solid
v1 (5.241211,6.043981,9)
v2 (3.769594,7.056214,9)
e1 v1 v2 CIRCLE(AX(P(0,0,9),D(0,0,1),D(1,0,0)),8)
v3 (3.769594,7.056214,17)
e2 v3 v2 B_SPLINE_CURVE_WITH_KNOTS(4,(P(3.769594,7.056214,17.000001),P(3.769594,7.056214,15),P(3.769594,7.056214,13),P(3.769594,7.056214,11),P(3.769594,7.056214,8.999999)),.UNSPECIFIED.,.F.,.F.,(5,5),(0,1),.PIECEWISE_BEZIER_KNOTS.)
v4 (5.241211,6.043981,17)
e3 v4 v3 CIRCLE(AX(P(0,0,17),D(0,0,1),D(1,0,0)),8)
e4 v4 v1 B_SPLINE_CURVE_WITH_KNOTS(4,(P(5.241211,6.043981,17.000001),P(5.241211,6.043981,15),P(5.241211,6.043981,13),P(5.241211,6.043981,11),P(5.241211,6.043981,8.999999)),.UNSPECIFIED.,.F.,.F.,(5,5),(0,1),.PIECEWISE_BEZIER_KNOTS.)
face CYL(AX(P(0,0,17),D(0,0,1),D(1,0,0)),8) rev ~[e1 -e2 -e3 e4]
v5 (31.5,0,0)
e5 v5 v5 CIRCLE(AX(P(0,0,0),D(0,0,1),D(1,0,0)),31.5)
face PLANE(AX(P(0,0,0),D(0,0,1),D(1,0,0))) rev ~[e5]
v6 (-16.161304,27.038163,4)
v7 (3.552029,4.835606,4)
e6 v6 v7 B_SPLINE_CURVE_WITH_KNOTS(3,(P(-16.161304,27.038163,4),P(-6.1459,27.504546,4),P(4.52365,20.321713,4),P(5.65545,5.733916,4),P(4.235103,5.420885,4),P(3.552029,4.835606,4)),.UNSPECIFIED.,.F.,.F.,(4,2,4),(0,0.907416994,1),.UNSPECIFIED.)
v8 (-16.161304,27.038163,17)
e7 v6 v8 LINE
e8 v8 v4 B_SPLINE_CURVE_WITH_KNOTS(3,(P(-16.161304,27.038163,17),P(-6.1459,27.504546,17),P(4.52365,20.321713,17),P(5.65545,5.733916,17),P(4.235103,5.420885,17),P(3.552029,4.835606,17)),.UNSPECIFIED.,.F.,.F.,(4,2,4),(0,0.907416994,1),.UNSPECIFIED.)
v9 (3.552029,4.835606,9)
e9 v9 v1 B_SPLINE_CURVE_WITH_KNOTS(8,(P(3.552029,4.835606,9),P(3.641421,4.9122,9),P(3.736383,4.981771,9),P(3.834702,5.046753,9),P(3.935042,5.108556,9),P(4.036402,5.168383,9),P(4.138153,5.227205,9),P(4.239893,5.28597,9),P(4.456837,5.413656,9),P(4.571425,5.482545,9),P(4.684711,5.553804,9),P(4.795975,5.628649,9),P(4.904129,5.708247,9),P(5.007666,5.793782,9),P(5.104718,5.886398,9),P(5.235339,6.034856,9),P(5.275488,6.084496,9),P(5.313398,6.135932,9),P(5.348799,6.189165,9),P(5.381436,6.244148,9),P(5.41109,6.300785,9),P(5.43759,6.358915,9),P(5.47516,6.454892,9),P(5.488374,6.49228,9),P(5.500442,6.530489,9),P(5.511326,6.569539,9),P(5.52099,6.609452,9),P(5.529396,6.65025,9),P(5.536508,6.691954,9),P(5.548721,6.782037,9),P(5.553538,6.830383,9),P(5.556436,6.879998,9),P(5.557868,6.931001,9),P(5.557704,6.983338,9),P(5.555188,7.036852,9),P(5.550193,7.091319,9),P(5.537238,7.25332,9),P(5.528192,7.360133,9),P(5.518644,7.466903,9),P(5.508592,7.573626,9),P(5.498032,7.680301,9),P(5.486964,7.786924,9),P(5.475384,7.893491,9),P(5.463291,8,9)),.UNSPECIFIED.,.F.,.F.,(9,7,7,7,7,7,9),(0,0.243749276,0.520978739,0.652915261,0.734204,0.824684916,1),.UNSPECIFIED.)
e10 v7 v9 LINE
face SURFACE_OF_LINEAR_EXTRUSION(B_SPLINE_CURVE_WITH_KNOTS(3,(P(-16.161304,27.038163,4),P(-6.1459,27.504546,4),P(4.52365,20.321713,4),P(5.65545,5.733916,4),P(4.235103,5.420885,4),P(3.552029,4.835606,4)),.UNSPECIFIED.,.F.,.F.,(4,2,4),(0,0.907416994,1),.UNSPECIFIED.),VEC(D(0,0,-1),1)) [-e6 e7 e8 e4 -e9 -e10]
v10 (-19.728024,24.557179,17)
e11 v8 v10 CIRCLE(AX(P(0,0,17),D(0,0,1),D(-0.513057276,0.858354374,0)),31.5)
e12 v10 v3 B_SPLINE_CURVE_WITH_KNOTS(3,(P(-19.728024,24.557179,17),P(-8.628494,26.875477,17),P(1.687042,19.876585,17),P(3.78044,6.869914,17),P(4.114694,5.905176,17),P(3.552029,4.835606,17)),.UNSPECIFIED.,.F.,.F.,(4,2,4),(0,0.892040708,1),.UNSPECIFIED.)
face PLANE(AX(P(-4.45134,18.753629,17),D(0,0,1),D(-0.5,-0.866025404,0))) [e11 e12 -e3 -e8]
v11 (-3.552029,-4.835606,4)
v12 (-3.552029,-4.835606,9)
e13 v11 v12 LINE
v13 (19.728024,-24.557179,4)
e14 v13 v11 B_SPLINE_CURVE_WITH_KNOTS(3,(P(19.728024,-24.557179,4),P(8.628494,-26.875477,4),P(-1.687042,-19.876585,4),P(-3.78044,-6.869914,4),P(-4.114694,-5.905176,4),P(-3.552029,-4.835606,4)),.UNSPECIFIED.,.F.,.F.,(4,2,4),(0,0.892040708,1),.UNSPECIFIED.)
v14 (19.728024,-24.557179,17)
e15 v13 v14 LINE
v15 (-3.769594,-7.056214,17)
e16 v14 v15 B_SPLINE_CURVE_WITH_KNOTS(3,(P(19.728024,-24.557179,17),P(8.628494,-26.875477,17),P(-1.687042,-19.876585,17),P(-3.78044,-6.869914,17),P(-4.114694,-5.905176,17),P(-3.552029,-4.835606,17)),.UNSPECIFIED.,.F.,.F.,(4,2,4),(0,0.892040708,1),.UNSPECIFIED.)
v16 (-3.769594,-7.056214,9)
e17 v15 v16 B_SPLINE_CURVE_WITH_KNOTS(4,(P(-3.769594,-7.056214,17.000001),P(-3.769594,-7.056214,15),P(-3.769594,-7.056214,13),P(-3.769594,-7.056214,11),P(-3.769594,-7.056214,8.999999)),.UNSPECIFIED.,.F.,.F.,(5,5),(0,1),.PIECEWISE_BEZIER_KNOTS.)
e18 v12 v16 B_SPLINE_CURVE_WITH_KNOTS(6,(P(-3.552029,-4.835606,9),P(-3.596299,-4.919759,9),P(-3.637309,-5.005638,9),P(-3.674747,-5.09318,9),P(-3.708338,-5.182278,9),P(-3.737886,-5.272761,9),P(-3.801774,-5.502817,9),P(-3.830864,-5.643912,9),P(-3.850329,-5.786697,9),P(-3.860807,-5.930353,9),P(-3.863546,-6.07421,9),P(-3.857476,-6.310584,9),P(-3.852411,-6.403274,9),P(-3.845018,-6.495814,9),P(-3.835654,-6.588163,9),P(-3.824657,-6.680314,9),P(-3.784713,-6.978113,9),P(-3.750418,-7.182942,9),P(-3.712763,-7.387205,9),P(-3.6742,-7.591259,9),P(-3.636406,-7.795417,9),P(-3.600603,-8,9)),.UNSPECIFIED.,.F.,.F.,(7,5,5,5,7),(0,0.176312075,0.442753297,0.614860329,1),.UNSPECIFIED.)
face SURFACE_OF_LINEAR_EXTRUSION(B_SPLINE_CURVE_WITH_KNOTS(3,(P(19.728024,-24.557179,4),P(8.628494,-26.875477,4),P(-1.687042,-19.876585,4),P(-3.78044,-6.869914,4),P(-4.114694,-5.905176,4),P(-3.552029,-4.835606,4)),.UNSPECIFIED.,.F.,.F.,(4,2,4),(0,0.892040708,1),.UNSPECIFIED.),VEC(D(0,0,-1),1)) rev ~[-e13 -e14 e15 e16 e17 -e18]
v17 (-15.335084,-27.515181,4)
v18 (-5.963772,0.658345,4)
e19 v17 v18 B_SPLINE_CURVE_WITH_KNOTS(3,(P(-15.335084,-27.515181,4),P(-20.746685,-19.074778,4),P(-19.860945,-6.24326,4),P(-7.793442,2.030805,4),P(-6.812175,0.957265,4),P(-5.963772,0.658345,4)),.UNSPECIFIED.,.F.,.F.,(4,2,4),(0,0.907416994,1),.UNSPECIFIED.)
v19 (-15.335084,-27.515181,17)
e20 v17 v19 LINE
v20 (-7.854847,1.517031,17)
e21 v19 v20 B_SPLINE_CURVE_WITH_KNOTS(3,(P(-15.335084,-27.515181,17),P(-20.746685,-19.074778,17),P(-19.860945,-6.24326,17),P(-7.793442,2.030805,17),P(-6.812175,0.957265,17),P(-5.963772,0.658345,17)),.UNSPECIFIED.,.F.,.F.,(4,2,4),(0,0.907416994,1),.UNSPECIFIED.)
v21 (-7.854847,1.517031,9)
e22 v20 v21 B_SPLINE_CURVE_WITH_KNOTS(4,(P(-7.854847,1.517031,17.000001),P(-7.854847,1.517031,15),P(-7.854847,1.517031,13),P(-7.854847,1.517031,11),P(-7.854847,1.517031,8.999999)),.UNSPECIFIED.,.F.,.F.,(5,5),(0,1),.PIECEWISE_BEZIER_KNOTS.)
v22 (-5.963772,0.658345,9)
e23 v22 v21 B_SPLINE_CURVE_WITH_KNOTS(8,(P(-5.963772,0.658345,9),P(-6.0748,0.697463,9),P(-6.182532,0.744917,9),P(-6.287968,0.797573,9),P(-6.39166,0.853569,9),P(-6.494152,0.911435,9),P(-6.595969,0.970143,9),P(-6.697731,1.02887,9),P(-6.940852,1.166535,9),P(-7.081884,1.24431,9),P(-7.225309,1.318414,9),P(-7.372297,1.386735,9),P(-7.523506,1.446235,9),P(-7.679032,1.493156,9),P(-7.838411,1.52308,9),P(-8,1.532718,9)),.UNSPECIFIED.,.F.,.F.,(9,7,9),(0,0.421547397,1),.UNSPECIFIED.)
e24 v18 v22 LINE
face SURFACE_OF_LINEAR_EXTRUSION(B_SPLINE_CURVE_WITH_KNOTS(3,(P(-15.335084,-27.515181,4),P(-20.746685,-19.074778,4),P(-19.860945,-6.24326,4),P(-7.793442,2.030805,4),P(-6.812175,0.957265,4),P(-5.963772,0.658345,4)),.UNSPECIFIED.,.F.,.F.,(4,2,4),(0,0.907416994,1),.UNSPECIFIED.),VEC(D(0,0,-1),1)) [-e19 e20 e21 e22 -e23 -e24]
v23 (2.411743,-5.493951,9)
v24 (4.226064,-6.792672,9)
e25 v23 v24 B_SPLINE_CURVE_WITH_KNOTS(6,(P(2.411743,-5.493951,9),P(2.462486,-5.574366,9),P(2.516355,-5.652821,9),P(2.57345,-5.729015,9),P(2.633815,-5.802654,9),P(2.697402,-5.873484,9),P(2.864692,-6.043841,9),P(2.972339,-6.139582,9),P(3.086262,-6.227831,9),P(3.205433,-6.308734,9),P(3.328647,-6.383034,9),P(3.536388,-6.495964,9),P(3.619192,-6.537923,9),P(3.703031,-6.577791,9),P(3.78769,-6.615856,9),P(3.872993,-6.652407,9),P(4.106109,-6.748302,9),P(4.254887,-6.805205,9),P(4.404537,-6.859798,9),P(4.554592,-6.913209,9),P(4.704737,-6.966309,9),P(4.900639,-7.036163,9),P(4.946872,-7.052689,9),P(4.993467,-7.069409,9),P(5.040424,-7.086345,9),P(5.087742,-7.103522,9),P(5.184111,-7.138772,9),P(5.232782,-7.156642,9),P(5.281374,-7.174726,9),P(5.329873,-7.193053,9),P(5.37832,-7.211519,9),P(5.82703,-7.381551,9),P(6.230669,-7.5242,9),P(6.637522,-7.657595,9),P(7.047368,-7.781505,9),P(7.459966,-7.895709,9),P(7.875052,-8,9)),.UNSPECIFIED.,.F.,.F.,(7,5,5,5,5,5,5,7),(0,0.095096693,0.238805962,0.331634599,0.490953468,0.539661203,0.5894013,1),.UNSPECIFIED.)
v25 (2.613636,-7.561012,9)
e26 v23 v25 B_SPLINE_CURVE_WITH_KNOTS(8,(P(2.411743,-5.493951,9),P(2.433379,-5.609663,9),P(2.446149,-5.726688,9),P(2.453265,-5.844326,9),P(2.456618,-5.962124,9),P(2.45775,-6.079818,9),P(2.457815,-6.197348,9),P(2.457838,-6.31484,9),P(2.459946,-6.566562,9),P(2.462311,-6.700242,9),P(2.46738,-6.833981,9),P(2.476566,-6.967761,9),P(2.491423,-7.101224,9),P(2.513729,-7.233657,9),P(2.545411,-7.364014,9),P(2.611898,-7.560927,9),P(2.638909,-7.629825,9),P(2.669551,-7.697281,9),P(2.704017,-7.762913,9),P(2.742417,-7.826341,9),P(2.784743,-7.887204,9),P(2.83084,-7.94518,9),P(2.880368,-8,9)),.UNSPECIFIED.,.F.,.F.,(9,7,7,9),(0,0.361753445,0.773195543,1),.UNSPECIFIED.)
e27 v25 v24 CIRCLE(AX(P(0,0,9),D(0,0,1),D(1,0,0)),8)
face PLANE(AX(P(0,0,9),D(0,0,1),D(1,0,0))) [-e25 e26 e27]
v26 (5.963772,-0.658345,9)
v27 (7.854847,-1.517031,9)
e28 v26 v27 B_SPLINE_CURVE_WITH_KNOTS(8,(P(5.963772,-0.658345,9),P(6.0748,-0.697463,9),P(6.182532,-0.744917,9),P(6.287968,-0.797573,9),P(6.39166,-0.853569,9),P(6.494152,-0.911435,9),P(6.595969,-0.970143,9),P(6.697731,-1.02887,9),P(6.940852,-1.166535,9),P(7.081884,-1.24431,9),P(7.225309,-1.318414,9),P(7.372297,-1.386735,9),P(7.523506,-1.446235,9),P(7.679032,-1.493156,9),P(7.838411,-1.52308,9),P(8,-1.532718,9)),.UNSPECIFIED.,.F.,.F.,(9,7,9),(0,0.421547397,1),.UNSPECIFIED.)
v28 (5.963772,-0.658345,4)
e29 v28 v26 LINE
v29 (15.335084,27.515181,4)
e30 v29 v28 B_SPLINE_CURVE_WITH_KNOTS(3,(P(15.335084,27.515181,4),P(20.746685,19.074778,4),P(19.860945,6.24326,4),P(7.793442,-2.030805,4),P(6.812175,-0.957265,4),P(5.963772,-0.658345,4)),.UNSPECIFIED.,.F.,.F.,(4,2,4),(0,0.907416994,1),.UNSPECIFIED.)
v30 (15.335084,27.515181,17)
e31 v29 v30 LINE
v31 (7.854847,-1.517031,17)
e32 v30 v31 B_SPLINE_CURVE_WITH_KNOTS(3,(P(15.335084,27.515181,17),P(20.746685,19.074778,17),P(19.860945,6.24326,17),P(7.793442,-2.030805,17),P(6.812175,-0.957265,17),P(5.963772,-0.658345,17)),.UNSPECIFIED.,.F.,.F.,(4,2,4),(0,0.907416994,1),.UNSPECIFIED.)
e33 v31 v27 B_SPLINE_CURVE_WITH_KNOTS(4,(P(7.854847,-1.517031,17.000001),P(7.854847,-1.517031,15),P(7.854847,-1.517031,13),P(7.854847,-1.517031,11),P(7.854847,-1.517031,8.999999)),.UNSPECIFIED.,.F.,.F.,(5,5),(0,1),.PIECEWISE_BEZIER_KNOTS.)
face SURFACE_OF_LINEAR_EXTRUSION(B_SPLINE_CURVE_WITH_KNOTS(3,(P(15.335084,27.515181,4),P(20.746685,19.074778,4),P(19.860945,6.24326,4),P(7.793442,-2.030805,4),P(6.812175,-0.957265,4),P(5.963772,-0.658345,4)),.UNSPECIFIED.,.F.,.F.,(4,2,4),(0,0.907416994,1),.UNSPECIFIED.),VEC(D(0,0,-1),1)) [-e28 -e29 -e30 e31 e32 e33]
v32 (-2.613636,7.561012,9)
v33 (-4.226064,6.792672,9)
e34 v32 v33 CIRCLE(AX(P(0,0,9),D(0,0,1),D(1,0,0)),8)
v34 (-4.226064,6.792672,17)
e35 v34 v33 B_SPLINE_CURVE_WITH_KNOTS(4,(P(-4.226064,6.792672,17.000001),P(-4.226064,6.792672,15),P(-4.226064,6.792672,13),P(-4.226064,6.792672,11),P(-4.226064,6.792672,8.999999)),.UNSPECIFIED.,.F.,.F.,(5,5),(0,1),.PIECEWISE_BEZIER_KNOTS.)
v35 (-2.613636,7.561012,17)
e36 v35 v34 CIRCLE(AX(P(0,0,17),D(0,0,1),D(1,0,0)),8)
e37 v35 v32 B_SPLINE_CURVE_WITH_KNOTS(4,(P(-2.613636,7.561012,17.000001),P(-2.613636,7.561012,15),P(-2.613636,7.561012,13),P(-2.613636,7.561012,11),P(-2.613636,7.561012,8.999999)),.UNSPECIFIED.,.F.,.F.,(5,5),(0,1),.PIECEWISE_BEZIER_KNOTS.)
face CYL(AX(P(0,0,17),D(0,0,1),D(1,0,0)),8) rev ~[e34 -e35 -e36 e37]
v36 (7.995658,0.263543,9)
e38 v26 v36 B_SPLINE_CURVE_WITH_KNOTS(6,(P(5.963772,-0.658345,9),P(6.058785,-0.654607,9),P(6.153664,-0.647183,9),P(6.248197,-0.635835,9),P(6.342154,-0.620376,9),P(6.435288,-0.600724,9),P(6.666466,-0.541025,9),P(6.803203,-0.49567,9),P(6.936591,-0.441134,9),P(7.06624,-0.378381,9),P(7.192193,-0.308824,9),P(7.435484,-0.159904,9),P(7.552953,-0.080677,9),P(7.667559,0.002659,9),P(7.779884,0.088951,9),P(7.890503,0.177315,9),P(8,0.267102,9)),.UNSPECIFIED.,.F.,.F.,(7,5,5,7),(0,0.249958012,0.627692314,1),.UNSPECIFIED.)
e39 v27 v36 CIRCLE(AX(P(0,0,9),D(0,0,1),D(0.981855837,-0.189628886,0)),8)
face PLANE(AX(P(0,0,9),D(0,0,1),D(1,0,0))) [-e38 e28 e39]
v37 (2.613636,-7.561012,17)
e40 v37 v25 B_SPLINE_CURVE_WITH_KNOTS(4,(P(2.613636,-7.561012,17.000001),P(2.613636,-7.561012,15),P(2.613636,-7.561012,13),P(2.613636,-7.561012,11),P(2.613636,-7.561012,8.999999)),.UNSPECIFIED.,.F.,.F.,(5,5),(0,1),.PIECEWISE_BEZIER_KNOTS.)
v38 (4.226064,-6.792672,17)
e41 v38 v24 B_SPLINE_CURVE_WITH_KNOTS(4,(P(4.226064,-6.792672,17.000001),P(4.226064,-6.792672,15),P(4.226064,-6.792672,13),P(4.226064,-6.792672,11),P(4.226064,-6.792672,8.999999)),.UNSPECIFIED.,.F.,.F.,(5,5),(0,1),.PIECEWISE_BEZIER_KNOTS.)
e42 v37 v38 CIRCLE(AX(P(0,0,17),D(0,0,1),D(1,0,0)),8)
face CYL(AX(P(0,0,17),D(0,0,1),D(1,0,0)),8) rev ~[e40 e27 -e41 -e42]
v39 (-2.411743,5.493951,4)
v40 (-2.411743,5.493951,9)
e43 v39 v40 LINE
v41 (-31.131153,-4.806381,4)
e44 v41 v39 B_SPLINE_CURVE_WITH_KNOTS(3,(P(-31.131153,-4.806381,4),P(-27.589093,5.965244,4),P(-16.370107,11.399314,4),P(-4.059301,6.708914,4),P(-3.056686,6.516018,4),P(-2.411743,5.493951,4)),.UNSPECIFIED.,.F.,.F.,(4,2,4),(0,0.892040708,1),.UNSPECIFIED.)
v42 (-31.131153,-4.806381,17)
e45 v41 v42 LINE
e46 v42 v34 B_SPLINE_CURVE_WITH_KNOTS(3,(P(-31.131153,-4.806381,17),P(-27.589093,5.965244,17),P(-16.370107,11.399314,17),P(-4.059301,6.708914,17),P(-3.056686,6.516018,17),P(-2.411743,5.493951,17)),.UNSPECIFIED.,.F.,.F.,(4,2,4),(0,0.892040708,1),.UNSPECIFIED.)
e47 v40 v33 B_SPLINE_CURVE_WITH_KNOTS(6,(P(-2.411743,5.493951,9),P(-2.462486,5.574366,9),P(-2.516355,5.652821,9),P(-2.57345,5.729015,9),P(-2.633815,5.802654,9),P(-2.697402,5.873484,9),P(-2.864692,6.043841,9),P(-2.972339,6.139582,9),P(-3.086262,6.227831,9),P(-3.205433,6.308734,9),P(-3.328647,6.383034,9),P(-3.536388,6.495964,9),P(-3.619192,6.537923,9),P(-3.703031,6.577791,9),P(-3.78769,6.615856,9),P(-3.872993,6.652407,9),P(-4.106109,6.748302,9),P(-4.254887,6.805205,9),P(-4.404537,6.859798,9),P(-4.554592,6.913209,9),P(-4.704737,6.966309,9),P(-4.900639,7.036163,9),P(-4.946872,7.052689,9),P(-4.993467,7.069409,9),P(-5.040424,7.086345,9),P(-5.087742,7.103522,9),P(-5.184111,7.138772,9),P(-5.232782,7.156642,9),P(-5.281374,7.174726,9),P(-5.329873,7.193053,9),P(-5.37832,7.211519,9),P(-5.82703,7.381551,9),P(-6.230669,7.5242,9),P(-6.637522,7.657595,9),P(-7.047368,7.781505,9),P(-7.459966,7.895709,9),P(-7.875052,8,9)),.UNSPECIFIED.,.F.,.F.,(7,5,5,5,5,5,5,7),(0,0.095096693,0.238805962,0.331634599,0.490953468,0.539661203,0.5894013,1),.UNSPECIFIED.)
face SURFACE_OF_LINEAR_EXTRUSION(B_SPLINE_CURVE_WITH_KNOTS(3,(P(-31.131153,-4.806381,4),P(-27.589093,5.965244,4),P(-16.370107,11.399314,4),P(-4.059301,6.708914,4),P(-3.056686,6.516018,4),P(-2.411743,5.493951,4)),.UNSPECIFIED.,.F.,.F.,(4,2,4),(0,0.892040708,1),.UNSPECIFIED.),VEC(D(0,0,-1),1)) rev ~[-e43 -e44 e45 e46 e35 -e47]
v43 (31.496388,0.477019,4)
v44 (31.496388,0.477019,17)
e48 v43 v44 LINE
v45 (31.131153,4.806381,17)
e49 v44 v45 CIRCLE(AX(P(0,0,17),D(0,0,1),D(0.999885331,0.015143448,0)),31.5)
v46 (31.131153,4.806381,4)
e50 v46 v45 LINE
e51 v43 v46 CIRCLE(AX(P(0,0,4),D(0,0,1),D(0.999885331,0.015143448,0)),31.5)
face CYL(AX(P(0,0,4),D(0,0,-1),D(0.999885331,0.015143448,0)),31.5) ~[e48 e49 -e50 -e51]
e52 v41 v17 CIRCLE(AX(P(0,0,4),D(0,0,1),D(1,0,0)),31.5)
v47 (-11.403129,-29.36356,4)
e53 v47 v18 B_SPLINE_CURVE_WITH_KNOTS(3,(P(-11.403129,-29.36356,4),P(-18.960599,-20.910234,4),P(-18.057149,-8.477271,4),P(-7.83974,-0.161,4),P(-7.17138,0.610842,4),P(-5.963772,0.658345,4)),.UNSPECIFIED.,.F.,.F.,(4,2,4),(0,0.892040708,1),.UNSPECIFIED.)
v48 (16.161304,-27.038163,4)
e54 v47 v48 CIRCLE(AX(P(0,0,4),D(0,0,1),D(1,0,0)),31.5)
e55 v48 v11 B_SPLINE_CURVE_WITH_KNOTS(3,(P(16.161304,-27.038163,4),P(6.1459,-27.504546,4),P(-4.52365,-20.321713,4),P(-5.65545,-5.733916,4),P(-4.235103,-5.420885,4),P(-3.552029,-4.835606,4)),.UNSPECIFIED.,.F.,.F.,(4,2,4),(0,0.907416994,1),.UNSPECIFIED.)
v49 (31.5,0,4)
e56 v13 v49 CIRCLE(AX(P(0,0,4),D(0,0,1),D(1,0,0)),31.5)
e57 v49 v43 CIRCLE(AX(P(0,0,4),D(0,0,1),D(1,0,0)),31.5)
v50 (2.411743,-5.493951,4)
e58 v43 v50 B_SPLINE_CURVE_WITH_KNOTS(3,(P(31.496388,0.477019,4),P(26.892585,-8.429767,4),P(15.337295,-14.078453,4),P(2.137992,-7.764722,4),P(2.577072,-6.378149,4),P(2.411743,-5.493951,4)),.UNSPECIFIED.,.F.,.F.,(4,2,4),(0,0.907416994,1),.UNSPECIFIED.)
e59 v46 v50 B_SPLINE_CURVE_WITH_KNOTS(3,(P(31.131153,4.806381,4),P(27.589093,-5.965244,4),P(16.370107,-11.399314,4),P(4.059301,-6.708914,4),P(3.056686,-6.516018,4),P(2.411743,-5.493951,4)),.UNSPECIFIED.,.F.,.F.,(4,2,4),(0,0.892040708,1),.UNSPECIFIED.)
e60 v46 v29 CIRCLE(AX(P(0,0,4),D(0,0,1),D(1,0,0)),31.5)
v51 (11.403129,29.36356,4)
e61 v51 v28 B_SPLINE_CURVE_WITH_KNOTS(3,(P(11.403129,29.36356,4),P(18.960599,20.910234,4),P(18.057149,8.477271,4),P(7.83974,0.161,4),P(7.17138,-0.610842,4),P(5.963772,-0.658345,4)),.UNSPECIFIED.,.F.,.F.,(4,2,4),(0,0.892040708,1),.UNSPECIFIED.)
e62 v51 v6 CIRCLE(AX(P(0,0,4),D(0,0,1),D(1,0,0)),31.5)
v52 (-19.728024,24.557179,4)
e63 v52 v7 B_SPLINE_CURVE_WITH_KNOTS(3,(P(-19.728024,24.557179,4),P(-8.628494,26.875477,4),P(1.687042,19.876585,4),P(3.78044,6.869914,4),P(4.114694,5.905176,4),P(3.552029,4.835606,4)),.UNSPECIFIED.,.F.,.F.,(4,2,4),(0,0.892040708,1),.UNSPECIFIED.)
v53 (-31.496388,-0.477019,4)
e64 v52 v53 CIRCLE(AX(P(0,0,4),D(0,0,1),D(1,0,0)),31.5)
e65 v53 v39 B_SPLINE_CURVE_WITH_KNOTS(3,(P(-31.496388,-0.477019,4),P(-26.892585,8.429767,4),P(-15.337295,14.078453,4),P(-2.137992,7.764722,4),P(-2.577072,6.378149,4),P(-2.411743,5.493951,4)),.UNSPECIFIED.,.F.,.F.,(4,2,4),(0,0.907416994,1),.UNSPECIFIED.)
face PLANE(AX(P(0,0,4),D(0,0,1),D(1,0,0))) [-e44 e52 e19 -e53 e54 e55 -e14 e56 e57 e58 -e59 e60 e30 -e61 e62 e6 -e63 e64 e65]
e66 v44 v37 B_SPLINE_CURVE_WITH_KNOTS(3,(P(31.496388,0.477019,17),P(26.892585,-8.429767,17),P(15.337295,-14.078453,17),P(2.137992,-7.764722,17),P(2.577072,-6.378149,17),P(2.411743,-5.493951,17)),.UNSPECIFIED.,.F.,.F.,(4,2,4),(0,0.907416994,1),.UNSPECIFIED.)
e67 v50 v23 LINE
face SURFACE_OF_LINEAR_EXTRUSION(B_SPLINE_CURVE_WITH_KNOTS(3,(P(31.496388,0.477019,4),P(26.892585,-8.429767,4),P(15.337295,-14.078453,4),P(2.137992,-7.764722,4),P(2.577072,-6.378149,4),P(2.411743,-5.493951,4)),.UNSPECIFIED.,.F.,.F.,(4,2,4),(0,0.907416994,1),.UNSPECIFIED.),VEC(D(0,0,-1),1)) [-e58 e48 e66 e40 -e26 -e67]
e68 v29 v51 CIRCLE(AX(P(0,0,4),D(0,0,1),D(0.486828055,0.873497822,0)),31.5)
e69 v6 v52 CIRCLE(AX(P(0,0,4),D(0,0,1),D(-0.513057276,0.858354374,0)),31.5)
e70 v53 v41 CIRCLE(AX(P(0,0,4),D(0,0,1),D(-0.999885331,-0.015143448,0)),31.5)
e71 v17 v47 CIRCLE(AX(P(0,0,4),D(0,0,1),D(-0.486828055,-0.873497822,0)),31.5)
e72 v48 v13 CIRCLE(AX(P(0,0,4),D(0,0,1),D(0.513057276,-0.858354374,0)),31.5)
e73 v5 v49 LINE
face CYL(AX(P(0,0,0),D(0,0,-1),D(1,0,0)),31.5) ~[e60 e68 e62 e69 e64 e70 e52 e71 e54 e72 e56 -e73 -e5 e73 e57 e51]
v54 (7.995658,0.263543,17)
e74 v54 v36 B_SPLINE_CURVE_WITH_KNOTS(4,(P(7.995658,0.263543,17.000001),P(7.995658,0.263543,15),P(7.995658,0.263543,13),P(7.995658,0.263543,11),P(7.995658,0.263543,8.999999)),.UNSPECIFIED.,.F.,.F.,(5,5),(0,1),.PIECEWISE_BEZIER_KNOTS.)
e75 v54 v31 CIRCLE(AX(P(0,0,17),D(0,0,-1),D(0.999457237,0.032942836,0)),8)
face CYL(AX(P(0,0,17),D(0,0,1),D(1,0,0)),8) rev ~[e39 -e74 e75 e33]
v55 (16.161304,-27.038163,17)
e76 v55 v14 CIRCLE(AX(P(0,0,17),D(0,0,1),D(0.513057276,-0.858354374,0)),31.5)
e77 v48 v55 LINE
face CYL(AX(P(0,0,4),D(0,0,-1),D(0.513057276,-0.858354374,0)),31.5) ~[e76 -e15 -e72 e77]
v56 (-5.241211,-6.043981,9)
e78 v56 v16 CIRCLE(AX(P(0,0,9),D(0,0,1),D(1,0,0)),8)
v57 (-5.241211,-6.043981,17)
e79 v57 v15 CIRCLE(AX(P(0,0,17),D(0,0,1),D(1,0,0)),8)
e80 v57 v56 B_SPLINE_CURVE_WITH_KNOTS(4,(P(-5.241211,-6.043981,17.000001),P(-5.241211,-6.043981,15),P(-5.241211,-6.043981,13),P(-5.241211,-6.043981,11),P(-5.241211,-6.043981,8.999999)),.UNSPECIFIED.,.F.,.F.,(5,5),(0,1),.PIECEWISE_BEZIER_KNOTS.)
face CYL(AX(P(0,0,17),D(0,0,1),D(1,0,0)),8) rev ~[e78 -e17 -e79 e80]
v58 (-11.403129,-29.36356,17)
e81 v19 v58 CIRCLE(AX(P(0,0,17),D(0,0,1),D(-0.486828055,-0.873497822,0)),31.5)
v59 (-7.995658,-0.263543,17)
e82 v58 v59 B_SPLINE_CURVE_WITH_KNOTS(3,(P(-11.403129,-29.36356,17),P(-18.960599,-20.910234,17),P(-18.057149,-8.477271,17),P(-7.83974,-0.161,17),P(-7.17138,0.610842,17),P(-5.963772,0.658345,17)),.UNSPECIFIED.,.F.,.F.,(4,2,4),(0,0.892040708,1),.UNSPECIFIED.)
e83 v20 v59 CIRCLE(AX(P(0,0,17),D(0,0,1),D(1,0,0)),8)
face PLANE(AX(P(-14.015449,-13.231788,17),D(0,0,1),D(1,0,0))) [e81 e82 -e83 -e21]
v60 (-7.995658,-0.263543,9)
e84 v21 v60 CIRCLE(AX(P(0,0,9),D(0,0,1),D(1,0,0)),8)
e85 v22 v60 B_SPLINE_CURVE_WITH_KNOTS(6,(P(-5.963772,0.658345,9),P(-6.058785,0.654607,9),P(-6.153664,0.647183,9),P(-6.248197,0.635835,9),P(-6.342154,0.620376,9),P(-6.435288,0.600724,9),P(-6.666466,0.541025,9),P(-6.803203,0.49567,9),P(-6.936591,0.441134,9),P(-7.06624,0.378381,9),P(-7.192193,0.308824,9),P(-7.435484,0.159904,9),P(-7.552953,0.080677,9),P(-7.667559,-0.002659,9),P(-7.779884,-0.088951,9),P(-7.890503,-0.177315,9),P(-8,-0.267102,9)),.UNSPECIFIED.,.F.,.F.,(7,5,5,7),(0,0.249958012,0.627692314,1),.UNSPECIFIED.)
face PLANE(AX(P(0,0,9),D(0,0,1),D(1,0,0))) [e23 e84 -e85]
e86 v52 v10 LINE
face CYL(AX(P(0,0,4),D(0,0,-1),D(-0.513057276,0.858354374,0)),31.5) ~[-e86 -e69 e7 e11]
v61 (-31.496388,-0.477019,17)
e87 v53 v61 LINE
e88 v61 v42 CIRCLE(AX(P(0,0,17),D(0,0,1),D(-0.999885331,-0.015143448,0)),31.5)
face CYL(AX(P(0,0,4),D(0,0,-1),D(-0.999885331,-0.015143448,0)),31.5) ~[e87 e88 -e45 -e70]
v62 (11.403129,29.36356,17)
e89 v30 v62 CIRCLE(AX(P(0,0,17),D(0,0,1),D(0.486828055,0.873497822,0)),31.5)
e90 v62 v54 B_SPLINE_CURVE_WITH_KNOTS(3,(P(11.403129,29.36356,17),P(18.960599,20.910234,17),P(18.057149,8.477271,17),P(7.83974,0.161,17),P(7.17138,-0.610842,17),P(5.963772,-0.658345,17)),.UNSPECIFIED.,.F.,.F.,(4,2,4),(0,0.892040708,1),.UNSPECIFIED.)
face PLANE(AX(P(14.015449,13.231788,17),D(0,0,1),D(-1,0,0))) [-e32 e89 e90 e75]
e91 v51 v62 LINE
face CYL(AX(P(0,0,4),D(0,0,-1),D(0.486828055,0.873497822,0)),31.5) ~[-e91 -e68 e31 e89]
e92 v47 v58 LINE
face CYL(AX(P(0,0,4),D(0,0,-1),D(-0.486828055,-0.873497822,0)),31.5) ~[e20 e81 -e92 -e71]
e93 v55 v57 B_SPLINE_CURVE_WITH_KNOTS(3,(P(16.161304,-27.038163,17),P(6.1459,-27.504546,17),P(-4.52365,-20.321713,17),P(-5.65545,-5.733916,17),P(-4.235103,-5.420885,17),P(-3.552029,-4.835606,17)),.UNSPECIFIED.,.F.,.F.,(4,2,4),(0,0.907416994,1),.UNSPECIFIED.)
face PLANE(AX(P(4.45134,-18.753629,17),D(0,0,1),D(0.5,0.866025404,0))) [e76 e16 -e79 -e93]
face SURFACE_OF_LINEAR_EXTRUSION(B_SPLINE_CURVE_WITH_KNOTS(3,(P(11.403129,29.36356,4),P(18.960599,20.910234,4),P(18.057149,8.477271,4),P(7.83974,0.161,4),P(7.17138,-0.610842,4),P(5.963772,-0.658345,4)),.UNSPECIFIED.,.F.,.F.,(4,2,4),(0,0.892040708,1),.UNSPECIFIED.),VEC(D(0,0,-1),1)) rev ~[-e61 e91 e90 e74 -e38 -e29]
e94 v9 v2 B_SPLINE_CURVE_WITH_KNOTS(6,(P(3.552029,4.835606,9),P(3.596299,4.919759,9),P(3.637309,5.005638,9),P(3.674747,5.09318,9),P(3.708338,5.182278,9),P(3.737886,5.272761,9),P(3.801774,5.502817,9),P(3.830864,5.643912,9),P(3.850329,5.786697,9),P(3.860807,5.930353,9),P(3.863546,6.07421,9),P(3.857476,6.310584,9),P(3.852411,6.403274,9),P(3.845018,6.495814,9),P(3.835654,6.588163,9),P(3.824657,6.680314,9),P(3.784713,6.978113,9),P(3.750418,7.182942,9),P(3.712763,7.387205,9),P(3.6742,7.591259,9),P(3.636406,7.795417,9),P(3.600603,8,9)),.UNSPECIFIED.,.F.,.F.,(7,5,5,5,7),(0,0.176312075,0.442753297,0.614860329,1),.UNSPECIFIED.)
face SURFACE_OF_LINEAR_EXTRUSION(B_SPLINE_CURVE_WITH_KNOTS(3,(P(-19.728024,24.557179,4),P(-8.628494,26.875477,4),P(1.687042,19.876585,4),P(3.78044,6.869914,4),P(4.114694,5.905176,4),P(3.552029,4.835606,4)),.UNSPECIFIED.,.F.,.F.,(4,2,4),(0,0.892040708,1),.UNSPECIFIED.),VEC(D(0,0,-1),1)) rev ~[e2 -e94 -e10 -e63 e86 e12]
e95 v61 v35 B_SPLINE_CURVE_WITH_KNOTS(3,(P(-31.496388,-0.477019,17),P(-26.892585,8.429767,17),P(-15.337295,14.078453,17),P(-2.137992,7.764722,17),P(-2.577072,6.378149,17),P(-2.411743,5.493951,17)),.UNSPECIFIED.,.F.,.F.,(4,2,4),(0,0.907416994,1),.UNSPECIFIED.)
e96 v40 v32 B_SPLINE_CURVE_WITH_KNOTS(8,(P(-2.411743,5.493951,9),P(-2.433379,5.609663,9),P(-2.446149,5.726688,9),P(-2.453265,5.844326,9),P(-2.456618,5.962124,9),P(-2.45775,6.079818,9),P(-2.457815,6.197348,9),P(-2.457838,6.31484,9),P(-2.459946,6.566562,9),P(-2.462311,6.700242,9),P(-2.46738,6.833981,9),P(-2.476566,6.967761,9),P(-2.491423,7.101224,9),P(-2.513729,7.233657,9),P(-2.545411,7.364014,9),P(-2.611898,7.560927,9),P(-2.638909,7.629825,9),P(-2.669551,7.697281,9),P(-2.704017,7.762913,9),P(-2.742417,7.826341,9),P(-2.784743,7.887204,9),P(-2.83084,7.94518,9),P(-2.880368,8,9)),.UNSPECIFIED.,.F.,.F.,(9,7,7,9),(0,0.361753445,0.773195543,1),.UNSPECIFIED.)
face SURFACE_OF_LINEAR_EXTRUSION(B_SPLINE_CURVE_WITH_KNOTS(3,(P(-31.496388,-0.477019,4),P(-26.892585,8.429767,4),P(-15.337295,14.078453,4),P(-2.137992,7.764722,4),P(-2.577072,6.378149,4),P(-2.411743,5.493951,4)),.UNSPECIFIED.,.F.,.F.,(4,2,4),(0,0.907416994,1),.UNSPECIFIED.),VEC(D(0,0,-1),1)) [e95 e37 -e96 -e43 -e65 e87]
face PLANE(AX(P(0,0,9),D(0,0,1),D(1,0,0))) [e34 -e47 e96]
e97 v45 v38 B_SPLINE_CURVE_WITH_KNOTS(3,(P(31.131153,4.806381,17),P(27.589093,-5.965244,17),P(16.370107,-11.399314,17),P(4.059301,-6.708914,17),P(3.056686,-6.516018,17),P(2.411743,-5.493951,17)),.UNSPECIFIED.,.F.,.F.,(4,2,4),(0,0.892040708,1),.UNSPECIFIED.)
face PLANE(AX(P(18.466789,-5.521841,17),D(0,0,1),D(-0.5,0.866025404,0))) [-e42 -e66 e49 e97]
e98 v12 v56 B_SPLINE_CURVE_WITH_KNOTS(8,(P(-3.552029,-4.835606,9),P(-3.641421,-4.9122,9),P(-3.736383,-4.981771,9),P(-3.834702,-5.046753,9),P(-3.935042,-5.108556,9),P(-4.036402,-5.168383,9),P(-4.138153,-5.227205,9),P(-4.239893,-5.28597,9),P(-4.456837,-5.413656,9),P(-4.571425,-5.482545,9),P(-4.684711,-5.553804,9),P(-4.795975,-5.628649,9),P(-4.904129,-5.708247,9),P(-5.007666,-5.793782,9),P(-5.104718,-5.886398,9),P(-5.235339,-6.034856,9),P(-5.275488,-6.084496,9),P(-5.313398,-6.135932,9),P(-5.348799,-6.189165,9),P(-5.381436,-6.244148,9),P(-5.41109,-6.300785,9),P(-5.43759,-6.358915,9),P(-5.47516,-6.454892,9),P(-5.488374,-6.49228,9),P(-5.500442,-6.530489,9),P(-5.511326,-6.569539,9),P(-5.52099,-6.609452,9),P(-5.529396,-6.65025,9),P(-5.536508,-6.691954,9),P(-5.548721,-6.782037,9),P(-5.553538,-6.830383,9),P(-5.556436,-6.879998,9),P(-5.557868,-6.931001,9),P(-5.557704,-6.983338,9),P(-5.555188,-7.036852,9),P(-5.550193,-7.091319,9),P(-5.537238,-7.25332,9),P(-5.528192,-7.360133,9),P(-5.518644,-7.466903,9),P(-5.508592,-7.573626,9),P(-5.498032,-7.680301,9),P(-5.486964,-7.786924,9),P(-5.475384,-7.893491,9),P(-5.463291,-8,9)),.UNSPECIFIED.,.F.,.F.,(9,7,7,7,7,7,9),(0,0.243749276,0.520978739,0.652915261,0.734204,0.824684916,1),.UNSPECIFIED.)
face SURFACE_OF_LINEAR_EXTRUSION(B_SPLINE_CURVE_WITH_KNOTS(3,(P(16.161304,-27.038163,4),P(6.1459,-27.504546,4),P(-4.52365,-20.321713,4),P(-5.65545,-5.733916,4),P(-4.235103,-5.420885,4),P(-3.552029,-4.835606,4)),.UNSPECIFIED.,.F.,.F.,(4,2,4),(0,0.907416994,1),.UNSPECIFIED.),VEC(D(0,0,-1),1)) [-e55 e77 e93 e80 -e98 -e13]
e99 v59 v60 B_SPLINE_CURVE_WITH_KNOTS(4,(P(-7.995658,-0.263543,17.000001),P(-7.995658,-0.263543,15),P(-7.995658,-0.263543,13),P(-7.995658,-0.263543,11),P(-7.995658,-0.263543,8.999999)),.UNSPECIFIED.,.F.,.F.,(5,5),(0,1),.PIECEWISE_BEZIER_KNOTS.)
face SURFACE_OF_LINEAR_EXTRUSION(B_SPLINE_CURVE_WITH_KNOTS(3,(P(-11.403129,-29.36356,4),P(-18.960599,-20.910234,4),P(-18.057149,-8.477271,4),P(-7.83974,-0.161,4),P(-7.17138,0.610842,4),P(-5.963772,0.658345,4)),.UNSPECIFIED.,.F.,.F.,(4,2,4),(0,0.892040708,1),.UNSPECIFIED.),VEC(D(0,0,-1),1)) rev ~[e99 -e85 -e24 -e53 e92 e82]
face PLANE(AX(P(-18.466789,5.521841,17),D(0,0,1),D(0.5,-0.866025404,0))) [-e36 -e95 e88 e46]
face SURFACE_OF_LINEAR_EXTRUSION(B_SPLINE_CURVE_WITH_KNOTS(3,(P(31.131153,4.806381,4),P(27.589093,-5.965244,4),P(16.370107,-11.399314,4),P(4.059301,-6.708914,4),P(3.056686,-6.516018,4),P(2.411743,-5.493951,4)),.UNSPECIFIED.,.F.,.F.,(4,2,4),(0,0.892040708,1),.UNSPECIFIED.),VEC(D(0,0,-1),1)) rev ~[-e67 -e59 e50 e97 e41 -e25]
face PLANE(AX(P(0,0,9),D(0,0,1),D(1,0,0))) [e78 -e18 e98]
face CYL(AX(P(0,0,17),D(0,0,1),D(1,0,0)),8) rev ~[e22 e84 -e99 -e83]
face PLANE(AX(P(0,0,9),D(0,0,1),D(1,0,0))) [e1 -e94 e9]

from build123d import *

# Parameters (mm, degrees)
SKETCH1_R          = 31.5
EXTRUDE1_DEPTH     = 4
EXTRUDE2_DEPTH     = 13
CIRPATTERN1_COUNT  = 6
SKETCH9_R          = 8
CUT_EXTRUDE1_DEPTH = 8


with BuildPart() as part:
    # Sketch1 → Extrude1 (new body)
    with BuildSketch(Plane.XY):
        Circle(SKETCH1_R)
    extrude(amount=EXTRUDE1_DEPTH)

    # Sketch8 → Extrude2 (add)
    with BuildSketch(Plane.XY.offset(4)):
        with BuildLine():
            ThreePointArc((-15.335083755, -27.515181378), (-13.401012303, -28.5072424), (-11.403128973, -29.363559894))
            add(Edge.make_bspline(
                [(-11.403128973, -29.363559894), (-18.960599099, -20.910233685), (-18.057148894, -8.477271422), (-7.839740111, -0.161000485), (-7.171379792, 0.610841586), (-5.963772485, 0.658344705)],
                knots=[0, 0, 0, 0, 0.892040708, 0.892040708, 1, 1, 1, 1], degree=3))
            add(Edge.make_bspline(
                [(-15.335083755, -27.515181378), (-20.746685268, -19.074778053), (-19.86094526, -6.243260483), (-7.793442469, 2.03080533), (-6.812175467, 0.957264639), (-5.963772485, 0.658344705)],
                knots=[0, 0, 0, 0, 0.907416994, 0.907416994, 1, 1, 1, 1], degree=3))
        make_face()
    extrude2 = extrude(amount=EXTRUDE2_DEPTH)

    # CirPattern1: Extrude2 ×6 about axis
    cirpattern1_axis = Axis((0, 0, 4), (0, 0, -1))
    for i in range(1, CIRPATTERN1_COUNT):
        add(extrude2.rotate(cirpattern1_axis, i * 360 / CIRPATTERN1_COUNT))

    # Sketch9 → Cut-Extrude1 (cut)
    with BuildSketch(Plane.XY.offset(17)):
        Circle(SKETCH9_R)
    extrude(amount=-CUT_EXTRUDE1_DEPTH, mode=Mode.SUBTRACT)


solid = part.part
